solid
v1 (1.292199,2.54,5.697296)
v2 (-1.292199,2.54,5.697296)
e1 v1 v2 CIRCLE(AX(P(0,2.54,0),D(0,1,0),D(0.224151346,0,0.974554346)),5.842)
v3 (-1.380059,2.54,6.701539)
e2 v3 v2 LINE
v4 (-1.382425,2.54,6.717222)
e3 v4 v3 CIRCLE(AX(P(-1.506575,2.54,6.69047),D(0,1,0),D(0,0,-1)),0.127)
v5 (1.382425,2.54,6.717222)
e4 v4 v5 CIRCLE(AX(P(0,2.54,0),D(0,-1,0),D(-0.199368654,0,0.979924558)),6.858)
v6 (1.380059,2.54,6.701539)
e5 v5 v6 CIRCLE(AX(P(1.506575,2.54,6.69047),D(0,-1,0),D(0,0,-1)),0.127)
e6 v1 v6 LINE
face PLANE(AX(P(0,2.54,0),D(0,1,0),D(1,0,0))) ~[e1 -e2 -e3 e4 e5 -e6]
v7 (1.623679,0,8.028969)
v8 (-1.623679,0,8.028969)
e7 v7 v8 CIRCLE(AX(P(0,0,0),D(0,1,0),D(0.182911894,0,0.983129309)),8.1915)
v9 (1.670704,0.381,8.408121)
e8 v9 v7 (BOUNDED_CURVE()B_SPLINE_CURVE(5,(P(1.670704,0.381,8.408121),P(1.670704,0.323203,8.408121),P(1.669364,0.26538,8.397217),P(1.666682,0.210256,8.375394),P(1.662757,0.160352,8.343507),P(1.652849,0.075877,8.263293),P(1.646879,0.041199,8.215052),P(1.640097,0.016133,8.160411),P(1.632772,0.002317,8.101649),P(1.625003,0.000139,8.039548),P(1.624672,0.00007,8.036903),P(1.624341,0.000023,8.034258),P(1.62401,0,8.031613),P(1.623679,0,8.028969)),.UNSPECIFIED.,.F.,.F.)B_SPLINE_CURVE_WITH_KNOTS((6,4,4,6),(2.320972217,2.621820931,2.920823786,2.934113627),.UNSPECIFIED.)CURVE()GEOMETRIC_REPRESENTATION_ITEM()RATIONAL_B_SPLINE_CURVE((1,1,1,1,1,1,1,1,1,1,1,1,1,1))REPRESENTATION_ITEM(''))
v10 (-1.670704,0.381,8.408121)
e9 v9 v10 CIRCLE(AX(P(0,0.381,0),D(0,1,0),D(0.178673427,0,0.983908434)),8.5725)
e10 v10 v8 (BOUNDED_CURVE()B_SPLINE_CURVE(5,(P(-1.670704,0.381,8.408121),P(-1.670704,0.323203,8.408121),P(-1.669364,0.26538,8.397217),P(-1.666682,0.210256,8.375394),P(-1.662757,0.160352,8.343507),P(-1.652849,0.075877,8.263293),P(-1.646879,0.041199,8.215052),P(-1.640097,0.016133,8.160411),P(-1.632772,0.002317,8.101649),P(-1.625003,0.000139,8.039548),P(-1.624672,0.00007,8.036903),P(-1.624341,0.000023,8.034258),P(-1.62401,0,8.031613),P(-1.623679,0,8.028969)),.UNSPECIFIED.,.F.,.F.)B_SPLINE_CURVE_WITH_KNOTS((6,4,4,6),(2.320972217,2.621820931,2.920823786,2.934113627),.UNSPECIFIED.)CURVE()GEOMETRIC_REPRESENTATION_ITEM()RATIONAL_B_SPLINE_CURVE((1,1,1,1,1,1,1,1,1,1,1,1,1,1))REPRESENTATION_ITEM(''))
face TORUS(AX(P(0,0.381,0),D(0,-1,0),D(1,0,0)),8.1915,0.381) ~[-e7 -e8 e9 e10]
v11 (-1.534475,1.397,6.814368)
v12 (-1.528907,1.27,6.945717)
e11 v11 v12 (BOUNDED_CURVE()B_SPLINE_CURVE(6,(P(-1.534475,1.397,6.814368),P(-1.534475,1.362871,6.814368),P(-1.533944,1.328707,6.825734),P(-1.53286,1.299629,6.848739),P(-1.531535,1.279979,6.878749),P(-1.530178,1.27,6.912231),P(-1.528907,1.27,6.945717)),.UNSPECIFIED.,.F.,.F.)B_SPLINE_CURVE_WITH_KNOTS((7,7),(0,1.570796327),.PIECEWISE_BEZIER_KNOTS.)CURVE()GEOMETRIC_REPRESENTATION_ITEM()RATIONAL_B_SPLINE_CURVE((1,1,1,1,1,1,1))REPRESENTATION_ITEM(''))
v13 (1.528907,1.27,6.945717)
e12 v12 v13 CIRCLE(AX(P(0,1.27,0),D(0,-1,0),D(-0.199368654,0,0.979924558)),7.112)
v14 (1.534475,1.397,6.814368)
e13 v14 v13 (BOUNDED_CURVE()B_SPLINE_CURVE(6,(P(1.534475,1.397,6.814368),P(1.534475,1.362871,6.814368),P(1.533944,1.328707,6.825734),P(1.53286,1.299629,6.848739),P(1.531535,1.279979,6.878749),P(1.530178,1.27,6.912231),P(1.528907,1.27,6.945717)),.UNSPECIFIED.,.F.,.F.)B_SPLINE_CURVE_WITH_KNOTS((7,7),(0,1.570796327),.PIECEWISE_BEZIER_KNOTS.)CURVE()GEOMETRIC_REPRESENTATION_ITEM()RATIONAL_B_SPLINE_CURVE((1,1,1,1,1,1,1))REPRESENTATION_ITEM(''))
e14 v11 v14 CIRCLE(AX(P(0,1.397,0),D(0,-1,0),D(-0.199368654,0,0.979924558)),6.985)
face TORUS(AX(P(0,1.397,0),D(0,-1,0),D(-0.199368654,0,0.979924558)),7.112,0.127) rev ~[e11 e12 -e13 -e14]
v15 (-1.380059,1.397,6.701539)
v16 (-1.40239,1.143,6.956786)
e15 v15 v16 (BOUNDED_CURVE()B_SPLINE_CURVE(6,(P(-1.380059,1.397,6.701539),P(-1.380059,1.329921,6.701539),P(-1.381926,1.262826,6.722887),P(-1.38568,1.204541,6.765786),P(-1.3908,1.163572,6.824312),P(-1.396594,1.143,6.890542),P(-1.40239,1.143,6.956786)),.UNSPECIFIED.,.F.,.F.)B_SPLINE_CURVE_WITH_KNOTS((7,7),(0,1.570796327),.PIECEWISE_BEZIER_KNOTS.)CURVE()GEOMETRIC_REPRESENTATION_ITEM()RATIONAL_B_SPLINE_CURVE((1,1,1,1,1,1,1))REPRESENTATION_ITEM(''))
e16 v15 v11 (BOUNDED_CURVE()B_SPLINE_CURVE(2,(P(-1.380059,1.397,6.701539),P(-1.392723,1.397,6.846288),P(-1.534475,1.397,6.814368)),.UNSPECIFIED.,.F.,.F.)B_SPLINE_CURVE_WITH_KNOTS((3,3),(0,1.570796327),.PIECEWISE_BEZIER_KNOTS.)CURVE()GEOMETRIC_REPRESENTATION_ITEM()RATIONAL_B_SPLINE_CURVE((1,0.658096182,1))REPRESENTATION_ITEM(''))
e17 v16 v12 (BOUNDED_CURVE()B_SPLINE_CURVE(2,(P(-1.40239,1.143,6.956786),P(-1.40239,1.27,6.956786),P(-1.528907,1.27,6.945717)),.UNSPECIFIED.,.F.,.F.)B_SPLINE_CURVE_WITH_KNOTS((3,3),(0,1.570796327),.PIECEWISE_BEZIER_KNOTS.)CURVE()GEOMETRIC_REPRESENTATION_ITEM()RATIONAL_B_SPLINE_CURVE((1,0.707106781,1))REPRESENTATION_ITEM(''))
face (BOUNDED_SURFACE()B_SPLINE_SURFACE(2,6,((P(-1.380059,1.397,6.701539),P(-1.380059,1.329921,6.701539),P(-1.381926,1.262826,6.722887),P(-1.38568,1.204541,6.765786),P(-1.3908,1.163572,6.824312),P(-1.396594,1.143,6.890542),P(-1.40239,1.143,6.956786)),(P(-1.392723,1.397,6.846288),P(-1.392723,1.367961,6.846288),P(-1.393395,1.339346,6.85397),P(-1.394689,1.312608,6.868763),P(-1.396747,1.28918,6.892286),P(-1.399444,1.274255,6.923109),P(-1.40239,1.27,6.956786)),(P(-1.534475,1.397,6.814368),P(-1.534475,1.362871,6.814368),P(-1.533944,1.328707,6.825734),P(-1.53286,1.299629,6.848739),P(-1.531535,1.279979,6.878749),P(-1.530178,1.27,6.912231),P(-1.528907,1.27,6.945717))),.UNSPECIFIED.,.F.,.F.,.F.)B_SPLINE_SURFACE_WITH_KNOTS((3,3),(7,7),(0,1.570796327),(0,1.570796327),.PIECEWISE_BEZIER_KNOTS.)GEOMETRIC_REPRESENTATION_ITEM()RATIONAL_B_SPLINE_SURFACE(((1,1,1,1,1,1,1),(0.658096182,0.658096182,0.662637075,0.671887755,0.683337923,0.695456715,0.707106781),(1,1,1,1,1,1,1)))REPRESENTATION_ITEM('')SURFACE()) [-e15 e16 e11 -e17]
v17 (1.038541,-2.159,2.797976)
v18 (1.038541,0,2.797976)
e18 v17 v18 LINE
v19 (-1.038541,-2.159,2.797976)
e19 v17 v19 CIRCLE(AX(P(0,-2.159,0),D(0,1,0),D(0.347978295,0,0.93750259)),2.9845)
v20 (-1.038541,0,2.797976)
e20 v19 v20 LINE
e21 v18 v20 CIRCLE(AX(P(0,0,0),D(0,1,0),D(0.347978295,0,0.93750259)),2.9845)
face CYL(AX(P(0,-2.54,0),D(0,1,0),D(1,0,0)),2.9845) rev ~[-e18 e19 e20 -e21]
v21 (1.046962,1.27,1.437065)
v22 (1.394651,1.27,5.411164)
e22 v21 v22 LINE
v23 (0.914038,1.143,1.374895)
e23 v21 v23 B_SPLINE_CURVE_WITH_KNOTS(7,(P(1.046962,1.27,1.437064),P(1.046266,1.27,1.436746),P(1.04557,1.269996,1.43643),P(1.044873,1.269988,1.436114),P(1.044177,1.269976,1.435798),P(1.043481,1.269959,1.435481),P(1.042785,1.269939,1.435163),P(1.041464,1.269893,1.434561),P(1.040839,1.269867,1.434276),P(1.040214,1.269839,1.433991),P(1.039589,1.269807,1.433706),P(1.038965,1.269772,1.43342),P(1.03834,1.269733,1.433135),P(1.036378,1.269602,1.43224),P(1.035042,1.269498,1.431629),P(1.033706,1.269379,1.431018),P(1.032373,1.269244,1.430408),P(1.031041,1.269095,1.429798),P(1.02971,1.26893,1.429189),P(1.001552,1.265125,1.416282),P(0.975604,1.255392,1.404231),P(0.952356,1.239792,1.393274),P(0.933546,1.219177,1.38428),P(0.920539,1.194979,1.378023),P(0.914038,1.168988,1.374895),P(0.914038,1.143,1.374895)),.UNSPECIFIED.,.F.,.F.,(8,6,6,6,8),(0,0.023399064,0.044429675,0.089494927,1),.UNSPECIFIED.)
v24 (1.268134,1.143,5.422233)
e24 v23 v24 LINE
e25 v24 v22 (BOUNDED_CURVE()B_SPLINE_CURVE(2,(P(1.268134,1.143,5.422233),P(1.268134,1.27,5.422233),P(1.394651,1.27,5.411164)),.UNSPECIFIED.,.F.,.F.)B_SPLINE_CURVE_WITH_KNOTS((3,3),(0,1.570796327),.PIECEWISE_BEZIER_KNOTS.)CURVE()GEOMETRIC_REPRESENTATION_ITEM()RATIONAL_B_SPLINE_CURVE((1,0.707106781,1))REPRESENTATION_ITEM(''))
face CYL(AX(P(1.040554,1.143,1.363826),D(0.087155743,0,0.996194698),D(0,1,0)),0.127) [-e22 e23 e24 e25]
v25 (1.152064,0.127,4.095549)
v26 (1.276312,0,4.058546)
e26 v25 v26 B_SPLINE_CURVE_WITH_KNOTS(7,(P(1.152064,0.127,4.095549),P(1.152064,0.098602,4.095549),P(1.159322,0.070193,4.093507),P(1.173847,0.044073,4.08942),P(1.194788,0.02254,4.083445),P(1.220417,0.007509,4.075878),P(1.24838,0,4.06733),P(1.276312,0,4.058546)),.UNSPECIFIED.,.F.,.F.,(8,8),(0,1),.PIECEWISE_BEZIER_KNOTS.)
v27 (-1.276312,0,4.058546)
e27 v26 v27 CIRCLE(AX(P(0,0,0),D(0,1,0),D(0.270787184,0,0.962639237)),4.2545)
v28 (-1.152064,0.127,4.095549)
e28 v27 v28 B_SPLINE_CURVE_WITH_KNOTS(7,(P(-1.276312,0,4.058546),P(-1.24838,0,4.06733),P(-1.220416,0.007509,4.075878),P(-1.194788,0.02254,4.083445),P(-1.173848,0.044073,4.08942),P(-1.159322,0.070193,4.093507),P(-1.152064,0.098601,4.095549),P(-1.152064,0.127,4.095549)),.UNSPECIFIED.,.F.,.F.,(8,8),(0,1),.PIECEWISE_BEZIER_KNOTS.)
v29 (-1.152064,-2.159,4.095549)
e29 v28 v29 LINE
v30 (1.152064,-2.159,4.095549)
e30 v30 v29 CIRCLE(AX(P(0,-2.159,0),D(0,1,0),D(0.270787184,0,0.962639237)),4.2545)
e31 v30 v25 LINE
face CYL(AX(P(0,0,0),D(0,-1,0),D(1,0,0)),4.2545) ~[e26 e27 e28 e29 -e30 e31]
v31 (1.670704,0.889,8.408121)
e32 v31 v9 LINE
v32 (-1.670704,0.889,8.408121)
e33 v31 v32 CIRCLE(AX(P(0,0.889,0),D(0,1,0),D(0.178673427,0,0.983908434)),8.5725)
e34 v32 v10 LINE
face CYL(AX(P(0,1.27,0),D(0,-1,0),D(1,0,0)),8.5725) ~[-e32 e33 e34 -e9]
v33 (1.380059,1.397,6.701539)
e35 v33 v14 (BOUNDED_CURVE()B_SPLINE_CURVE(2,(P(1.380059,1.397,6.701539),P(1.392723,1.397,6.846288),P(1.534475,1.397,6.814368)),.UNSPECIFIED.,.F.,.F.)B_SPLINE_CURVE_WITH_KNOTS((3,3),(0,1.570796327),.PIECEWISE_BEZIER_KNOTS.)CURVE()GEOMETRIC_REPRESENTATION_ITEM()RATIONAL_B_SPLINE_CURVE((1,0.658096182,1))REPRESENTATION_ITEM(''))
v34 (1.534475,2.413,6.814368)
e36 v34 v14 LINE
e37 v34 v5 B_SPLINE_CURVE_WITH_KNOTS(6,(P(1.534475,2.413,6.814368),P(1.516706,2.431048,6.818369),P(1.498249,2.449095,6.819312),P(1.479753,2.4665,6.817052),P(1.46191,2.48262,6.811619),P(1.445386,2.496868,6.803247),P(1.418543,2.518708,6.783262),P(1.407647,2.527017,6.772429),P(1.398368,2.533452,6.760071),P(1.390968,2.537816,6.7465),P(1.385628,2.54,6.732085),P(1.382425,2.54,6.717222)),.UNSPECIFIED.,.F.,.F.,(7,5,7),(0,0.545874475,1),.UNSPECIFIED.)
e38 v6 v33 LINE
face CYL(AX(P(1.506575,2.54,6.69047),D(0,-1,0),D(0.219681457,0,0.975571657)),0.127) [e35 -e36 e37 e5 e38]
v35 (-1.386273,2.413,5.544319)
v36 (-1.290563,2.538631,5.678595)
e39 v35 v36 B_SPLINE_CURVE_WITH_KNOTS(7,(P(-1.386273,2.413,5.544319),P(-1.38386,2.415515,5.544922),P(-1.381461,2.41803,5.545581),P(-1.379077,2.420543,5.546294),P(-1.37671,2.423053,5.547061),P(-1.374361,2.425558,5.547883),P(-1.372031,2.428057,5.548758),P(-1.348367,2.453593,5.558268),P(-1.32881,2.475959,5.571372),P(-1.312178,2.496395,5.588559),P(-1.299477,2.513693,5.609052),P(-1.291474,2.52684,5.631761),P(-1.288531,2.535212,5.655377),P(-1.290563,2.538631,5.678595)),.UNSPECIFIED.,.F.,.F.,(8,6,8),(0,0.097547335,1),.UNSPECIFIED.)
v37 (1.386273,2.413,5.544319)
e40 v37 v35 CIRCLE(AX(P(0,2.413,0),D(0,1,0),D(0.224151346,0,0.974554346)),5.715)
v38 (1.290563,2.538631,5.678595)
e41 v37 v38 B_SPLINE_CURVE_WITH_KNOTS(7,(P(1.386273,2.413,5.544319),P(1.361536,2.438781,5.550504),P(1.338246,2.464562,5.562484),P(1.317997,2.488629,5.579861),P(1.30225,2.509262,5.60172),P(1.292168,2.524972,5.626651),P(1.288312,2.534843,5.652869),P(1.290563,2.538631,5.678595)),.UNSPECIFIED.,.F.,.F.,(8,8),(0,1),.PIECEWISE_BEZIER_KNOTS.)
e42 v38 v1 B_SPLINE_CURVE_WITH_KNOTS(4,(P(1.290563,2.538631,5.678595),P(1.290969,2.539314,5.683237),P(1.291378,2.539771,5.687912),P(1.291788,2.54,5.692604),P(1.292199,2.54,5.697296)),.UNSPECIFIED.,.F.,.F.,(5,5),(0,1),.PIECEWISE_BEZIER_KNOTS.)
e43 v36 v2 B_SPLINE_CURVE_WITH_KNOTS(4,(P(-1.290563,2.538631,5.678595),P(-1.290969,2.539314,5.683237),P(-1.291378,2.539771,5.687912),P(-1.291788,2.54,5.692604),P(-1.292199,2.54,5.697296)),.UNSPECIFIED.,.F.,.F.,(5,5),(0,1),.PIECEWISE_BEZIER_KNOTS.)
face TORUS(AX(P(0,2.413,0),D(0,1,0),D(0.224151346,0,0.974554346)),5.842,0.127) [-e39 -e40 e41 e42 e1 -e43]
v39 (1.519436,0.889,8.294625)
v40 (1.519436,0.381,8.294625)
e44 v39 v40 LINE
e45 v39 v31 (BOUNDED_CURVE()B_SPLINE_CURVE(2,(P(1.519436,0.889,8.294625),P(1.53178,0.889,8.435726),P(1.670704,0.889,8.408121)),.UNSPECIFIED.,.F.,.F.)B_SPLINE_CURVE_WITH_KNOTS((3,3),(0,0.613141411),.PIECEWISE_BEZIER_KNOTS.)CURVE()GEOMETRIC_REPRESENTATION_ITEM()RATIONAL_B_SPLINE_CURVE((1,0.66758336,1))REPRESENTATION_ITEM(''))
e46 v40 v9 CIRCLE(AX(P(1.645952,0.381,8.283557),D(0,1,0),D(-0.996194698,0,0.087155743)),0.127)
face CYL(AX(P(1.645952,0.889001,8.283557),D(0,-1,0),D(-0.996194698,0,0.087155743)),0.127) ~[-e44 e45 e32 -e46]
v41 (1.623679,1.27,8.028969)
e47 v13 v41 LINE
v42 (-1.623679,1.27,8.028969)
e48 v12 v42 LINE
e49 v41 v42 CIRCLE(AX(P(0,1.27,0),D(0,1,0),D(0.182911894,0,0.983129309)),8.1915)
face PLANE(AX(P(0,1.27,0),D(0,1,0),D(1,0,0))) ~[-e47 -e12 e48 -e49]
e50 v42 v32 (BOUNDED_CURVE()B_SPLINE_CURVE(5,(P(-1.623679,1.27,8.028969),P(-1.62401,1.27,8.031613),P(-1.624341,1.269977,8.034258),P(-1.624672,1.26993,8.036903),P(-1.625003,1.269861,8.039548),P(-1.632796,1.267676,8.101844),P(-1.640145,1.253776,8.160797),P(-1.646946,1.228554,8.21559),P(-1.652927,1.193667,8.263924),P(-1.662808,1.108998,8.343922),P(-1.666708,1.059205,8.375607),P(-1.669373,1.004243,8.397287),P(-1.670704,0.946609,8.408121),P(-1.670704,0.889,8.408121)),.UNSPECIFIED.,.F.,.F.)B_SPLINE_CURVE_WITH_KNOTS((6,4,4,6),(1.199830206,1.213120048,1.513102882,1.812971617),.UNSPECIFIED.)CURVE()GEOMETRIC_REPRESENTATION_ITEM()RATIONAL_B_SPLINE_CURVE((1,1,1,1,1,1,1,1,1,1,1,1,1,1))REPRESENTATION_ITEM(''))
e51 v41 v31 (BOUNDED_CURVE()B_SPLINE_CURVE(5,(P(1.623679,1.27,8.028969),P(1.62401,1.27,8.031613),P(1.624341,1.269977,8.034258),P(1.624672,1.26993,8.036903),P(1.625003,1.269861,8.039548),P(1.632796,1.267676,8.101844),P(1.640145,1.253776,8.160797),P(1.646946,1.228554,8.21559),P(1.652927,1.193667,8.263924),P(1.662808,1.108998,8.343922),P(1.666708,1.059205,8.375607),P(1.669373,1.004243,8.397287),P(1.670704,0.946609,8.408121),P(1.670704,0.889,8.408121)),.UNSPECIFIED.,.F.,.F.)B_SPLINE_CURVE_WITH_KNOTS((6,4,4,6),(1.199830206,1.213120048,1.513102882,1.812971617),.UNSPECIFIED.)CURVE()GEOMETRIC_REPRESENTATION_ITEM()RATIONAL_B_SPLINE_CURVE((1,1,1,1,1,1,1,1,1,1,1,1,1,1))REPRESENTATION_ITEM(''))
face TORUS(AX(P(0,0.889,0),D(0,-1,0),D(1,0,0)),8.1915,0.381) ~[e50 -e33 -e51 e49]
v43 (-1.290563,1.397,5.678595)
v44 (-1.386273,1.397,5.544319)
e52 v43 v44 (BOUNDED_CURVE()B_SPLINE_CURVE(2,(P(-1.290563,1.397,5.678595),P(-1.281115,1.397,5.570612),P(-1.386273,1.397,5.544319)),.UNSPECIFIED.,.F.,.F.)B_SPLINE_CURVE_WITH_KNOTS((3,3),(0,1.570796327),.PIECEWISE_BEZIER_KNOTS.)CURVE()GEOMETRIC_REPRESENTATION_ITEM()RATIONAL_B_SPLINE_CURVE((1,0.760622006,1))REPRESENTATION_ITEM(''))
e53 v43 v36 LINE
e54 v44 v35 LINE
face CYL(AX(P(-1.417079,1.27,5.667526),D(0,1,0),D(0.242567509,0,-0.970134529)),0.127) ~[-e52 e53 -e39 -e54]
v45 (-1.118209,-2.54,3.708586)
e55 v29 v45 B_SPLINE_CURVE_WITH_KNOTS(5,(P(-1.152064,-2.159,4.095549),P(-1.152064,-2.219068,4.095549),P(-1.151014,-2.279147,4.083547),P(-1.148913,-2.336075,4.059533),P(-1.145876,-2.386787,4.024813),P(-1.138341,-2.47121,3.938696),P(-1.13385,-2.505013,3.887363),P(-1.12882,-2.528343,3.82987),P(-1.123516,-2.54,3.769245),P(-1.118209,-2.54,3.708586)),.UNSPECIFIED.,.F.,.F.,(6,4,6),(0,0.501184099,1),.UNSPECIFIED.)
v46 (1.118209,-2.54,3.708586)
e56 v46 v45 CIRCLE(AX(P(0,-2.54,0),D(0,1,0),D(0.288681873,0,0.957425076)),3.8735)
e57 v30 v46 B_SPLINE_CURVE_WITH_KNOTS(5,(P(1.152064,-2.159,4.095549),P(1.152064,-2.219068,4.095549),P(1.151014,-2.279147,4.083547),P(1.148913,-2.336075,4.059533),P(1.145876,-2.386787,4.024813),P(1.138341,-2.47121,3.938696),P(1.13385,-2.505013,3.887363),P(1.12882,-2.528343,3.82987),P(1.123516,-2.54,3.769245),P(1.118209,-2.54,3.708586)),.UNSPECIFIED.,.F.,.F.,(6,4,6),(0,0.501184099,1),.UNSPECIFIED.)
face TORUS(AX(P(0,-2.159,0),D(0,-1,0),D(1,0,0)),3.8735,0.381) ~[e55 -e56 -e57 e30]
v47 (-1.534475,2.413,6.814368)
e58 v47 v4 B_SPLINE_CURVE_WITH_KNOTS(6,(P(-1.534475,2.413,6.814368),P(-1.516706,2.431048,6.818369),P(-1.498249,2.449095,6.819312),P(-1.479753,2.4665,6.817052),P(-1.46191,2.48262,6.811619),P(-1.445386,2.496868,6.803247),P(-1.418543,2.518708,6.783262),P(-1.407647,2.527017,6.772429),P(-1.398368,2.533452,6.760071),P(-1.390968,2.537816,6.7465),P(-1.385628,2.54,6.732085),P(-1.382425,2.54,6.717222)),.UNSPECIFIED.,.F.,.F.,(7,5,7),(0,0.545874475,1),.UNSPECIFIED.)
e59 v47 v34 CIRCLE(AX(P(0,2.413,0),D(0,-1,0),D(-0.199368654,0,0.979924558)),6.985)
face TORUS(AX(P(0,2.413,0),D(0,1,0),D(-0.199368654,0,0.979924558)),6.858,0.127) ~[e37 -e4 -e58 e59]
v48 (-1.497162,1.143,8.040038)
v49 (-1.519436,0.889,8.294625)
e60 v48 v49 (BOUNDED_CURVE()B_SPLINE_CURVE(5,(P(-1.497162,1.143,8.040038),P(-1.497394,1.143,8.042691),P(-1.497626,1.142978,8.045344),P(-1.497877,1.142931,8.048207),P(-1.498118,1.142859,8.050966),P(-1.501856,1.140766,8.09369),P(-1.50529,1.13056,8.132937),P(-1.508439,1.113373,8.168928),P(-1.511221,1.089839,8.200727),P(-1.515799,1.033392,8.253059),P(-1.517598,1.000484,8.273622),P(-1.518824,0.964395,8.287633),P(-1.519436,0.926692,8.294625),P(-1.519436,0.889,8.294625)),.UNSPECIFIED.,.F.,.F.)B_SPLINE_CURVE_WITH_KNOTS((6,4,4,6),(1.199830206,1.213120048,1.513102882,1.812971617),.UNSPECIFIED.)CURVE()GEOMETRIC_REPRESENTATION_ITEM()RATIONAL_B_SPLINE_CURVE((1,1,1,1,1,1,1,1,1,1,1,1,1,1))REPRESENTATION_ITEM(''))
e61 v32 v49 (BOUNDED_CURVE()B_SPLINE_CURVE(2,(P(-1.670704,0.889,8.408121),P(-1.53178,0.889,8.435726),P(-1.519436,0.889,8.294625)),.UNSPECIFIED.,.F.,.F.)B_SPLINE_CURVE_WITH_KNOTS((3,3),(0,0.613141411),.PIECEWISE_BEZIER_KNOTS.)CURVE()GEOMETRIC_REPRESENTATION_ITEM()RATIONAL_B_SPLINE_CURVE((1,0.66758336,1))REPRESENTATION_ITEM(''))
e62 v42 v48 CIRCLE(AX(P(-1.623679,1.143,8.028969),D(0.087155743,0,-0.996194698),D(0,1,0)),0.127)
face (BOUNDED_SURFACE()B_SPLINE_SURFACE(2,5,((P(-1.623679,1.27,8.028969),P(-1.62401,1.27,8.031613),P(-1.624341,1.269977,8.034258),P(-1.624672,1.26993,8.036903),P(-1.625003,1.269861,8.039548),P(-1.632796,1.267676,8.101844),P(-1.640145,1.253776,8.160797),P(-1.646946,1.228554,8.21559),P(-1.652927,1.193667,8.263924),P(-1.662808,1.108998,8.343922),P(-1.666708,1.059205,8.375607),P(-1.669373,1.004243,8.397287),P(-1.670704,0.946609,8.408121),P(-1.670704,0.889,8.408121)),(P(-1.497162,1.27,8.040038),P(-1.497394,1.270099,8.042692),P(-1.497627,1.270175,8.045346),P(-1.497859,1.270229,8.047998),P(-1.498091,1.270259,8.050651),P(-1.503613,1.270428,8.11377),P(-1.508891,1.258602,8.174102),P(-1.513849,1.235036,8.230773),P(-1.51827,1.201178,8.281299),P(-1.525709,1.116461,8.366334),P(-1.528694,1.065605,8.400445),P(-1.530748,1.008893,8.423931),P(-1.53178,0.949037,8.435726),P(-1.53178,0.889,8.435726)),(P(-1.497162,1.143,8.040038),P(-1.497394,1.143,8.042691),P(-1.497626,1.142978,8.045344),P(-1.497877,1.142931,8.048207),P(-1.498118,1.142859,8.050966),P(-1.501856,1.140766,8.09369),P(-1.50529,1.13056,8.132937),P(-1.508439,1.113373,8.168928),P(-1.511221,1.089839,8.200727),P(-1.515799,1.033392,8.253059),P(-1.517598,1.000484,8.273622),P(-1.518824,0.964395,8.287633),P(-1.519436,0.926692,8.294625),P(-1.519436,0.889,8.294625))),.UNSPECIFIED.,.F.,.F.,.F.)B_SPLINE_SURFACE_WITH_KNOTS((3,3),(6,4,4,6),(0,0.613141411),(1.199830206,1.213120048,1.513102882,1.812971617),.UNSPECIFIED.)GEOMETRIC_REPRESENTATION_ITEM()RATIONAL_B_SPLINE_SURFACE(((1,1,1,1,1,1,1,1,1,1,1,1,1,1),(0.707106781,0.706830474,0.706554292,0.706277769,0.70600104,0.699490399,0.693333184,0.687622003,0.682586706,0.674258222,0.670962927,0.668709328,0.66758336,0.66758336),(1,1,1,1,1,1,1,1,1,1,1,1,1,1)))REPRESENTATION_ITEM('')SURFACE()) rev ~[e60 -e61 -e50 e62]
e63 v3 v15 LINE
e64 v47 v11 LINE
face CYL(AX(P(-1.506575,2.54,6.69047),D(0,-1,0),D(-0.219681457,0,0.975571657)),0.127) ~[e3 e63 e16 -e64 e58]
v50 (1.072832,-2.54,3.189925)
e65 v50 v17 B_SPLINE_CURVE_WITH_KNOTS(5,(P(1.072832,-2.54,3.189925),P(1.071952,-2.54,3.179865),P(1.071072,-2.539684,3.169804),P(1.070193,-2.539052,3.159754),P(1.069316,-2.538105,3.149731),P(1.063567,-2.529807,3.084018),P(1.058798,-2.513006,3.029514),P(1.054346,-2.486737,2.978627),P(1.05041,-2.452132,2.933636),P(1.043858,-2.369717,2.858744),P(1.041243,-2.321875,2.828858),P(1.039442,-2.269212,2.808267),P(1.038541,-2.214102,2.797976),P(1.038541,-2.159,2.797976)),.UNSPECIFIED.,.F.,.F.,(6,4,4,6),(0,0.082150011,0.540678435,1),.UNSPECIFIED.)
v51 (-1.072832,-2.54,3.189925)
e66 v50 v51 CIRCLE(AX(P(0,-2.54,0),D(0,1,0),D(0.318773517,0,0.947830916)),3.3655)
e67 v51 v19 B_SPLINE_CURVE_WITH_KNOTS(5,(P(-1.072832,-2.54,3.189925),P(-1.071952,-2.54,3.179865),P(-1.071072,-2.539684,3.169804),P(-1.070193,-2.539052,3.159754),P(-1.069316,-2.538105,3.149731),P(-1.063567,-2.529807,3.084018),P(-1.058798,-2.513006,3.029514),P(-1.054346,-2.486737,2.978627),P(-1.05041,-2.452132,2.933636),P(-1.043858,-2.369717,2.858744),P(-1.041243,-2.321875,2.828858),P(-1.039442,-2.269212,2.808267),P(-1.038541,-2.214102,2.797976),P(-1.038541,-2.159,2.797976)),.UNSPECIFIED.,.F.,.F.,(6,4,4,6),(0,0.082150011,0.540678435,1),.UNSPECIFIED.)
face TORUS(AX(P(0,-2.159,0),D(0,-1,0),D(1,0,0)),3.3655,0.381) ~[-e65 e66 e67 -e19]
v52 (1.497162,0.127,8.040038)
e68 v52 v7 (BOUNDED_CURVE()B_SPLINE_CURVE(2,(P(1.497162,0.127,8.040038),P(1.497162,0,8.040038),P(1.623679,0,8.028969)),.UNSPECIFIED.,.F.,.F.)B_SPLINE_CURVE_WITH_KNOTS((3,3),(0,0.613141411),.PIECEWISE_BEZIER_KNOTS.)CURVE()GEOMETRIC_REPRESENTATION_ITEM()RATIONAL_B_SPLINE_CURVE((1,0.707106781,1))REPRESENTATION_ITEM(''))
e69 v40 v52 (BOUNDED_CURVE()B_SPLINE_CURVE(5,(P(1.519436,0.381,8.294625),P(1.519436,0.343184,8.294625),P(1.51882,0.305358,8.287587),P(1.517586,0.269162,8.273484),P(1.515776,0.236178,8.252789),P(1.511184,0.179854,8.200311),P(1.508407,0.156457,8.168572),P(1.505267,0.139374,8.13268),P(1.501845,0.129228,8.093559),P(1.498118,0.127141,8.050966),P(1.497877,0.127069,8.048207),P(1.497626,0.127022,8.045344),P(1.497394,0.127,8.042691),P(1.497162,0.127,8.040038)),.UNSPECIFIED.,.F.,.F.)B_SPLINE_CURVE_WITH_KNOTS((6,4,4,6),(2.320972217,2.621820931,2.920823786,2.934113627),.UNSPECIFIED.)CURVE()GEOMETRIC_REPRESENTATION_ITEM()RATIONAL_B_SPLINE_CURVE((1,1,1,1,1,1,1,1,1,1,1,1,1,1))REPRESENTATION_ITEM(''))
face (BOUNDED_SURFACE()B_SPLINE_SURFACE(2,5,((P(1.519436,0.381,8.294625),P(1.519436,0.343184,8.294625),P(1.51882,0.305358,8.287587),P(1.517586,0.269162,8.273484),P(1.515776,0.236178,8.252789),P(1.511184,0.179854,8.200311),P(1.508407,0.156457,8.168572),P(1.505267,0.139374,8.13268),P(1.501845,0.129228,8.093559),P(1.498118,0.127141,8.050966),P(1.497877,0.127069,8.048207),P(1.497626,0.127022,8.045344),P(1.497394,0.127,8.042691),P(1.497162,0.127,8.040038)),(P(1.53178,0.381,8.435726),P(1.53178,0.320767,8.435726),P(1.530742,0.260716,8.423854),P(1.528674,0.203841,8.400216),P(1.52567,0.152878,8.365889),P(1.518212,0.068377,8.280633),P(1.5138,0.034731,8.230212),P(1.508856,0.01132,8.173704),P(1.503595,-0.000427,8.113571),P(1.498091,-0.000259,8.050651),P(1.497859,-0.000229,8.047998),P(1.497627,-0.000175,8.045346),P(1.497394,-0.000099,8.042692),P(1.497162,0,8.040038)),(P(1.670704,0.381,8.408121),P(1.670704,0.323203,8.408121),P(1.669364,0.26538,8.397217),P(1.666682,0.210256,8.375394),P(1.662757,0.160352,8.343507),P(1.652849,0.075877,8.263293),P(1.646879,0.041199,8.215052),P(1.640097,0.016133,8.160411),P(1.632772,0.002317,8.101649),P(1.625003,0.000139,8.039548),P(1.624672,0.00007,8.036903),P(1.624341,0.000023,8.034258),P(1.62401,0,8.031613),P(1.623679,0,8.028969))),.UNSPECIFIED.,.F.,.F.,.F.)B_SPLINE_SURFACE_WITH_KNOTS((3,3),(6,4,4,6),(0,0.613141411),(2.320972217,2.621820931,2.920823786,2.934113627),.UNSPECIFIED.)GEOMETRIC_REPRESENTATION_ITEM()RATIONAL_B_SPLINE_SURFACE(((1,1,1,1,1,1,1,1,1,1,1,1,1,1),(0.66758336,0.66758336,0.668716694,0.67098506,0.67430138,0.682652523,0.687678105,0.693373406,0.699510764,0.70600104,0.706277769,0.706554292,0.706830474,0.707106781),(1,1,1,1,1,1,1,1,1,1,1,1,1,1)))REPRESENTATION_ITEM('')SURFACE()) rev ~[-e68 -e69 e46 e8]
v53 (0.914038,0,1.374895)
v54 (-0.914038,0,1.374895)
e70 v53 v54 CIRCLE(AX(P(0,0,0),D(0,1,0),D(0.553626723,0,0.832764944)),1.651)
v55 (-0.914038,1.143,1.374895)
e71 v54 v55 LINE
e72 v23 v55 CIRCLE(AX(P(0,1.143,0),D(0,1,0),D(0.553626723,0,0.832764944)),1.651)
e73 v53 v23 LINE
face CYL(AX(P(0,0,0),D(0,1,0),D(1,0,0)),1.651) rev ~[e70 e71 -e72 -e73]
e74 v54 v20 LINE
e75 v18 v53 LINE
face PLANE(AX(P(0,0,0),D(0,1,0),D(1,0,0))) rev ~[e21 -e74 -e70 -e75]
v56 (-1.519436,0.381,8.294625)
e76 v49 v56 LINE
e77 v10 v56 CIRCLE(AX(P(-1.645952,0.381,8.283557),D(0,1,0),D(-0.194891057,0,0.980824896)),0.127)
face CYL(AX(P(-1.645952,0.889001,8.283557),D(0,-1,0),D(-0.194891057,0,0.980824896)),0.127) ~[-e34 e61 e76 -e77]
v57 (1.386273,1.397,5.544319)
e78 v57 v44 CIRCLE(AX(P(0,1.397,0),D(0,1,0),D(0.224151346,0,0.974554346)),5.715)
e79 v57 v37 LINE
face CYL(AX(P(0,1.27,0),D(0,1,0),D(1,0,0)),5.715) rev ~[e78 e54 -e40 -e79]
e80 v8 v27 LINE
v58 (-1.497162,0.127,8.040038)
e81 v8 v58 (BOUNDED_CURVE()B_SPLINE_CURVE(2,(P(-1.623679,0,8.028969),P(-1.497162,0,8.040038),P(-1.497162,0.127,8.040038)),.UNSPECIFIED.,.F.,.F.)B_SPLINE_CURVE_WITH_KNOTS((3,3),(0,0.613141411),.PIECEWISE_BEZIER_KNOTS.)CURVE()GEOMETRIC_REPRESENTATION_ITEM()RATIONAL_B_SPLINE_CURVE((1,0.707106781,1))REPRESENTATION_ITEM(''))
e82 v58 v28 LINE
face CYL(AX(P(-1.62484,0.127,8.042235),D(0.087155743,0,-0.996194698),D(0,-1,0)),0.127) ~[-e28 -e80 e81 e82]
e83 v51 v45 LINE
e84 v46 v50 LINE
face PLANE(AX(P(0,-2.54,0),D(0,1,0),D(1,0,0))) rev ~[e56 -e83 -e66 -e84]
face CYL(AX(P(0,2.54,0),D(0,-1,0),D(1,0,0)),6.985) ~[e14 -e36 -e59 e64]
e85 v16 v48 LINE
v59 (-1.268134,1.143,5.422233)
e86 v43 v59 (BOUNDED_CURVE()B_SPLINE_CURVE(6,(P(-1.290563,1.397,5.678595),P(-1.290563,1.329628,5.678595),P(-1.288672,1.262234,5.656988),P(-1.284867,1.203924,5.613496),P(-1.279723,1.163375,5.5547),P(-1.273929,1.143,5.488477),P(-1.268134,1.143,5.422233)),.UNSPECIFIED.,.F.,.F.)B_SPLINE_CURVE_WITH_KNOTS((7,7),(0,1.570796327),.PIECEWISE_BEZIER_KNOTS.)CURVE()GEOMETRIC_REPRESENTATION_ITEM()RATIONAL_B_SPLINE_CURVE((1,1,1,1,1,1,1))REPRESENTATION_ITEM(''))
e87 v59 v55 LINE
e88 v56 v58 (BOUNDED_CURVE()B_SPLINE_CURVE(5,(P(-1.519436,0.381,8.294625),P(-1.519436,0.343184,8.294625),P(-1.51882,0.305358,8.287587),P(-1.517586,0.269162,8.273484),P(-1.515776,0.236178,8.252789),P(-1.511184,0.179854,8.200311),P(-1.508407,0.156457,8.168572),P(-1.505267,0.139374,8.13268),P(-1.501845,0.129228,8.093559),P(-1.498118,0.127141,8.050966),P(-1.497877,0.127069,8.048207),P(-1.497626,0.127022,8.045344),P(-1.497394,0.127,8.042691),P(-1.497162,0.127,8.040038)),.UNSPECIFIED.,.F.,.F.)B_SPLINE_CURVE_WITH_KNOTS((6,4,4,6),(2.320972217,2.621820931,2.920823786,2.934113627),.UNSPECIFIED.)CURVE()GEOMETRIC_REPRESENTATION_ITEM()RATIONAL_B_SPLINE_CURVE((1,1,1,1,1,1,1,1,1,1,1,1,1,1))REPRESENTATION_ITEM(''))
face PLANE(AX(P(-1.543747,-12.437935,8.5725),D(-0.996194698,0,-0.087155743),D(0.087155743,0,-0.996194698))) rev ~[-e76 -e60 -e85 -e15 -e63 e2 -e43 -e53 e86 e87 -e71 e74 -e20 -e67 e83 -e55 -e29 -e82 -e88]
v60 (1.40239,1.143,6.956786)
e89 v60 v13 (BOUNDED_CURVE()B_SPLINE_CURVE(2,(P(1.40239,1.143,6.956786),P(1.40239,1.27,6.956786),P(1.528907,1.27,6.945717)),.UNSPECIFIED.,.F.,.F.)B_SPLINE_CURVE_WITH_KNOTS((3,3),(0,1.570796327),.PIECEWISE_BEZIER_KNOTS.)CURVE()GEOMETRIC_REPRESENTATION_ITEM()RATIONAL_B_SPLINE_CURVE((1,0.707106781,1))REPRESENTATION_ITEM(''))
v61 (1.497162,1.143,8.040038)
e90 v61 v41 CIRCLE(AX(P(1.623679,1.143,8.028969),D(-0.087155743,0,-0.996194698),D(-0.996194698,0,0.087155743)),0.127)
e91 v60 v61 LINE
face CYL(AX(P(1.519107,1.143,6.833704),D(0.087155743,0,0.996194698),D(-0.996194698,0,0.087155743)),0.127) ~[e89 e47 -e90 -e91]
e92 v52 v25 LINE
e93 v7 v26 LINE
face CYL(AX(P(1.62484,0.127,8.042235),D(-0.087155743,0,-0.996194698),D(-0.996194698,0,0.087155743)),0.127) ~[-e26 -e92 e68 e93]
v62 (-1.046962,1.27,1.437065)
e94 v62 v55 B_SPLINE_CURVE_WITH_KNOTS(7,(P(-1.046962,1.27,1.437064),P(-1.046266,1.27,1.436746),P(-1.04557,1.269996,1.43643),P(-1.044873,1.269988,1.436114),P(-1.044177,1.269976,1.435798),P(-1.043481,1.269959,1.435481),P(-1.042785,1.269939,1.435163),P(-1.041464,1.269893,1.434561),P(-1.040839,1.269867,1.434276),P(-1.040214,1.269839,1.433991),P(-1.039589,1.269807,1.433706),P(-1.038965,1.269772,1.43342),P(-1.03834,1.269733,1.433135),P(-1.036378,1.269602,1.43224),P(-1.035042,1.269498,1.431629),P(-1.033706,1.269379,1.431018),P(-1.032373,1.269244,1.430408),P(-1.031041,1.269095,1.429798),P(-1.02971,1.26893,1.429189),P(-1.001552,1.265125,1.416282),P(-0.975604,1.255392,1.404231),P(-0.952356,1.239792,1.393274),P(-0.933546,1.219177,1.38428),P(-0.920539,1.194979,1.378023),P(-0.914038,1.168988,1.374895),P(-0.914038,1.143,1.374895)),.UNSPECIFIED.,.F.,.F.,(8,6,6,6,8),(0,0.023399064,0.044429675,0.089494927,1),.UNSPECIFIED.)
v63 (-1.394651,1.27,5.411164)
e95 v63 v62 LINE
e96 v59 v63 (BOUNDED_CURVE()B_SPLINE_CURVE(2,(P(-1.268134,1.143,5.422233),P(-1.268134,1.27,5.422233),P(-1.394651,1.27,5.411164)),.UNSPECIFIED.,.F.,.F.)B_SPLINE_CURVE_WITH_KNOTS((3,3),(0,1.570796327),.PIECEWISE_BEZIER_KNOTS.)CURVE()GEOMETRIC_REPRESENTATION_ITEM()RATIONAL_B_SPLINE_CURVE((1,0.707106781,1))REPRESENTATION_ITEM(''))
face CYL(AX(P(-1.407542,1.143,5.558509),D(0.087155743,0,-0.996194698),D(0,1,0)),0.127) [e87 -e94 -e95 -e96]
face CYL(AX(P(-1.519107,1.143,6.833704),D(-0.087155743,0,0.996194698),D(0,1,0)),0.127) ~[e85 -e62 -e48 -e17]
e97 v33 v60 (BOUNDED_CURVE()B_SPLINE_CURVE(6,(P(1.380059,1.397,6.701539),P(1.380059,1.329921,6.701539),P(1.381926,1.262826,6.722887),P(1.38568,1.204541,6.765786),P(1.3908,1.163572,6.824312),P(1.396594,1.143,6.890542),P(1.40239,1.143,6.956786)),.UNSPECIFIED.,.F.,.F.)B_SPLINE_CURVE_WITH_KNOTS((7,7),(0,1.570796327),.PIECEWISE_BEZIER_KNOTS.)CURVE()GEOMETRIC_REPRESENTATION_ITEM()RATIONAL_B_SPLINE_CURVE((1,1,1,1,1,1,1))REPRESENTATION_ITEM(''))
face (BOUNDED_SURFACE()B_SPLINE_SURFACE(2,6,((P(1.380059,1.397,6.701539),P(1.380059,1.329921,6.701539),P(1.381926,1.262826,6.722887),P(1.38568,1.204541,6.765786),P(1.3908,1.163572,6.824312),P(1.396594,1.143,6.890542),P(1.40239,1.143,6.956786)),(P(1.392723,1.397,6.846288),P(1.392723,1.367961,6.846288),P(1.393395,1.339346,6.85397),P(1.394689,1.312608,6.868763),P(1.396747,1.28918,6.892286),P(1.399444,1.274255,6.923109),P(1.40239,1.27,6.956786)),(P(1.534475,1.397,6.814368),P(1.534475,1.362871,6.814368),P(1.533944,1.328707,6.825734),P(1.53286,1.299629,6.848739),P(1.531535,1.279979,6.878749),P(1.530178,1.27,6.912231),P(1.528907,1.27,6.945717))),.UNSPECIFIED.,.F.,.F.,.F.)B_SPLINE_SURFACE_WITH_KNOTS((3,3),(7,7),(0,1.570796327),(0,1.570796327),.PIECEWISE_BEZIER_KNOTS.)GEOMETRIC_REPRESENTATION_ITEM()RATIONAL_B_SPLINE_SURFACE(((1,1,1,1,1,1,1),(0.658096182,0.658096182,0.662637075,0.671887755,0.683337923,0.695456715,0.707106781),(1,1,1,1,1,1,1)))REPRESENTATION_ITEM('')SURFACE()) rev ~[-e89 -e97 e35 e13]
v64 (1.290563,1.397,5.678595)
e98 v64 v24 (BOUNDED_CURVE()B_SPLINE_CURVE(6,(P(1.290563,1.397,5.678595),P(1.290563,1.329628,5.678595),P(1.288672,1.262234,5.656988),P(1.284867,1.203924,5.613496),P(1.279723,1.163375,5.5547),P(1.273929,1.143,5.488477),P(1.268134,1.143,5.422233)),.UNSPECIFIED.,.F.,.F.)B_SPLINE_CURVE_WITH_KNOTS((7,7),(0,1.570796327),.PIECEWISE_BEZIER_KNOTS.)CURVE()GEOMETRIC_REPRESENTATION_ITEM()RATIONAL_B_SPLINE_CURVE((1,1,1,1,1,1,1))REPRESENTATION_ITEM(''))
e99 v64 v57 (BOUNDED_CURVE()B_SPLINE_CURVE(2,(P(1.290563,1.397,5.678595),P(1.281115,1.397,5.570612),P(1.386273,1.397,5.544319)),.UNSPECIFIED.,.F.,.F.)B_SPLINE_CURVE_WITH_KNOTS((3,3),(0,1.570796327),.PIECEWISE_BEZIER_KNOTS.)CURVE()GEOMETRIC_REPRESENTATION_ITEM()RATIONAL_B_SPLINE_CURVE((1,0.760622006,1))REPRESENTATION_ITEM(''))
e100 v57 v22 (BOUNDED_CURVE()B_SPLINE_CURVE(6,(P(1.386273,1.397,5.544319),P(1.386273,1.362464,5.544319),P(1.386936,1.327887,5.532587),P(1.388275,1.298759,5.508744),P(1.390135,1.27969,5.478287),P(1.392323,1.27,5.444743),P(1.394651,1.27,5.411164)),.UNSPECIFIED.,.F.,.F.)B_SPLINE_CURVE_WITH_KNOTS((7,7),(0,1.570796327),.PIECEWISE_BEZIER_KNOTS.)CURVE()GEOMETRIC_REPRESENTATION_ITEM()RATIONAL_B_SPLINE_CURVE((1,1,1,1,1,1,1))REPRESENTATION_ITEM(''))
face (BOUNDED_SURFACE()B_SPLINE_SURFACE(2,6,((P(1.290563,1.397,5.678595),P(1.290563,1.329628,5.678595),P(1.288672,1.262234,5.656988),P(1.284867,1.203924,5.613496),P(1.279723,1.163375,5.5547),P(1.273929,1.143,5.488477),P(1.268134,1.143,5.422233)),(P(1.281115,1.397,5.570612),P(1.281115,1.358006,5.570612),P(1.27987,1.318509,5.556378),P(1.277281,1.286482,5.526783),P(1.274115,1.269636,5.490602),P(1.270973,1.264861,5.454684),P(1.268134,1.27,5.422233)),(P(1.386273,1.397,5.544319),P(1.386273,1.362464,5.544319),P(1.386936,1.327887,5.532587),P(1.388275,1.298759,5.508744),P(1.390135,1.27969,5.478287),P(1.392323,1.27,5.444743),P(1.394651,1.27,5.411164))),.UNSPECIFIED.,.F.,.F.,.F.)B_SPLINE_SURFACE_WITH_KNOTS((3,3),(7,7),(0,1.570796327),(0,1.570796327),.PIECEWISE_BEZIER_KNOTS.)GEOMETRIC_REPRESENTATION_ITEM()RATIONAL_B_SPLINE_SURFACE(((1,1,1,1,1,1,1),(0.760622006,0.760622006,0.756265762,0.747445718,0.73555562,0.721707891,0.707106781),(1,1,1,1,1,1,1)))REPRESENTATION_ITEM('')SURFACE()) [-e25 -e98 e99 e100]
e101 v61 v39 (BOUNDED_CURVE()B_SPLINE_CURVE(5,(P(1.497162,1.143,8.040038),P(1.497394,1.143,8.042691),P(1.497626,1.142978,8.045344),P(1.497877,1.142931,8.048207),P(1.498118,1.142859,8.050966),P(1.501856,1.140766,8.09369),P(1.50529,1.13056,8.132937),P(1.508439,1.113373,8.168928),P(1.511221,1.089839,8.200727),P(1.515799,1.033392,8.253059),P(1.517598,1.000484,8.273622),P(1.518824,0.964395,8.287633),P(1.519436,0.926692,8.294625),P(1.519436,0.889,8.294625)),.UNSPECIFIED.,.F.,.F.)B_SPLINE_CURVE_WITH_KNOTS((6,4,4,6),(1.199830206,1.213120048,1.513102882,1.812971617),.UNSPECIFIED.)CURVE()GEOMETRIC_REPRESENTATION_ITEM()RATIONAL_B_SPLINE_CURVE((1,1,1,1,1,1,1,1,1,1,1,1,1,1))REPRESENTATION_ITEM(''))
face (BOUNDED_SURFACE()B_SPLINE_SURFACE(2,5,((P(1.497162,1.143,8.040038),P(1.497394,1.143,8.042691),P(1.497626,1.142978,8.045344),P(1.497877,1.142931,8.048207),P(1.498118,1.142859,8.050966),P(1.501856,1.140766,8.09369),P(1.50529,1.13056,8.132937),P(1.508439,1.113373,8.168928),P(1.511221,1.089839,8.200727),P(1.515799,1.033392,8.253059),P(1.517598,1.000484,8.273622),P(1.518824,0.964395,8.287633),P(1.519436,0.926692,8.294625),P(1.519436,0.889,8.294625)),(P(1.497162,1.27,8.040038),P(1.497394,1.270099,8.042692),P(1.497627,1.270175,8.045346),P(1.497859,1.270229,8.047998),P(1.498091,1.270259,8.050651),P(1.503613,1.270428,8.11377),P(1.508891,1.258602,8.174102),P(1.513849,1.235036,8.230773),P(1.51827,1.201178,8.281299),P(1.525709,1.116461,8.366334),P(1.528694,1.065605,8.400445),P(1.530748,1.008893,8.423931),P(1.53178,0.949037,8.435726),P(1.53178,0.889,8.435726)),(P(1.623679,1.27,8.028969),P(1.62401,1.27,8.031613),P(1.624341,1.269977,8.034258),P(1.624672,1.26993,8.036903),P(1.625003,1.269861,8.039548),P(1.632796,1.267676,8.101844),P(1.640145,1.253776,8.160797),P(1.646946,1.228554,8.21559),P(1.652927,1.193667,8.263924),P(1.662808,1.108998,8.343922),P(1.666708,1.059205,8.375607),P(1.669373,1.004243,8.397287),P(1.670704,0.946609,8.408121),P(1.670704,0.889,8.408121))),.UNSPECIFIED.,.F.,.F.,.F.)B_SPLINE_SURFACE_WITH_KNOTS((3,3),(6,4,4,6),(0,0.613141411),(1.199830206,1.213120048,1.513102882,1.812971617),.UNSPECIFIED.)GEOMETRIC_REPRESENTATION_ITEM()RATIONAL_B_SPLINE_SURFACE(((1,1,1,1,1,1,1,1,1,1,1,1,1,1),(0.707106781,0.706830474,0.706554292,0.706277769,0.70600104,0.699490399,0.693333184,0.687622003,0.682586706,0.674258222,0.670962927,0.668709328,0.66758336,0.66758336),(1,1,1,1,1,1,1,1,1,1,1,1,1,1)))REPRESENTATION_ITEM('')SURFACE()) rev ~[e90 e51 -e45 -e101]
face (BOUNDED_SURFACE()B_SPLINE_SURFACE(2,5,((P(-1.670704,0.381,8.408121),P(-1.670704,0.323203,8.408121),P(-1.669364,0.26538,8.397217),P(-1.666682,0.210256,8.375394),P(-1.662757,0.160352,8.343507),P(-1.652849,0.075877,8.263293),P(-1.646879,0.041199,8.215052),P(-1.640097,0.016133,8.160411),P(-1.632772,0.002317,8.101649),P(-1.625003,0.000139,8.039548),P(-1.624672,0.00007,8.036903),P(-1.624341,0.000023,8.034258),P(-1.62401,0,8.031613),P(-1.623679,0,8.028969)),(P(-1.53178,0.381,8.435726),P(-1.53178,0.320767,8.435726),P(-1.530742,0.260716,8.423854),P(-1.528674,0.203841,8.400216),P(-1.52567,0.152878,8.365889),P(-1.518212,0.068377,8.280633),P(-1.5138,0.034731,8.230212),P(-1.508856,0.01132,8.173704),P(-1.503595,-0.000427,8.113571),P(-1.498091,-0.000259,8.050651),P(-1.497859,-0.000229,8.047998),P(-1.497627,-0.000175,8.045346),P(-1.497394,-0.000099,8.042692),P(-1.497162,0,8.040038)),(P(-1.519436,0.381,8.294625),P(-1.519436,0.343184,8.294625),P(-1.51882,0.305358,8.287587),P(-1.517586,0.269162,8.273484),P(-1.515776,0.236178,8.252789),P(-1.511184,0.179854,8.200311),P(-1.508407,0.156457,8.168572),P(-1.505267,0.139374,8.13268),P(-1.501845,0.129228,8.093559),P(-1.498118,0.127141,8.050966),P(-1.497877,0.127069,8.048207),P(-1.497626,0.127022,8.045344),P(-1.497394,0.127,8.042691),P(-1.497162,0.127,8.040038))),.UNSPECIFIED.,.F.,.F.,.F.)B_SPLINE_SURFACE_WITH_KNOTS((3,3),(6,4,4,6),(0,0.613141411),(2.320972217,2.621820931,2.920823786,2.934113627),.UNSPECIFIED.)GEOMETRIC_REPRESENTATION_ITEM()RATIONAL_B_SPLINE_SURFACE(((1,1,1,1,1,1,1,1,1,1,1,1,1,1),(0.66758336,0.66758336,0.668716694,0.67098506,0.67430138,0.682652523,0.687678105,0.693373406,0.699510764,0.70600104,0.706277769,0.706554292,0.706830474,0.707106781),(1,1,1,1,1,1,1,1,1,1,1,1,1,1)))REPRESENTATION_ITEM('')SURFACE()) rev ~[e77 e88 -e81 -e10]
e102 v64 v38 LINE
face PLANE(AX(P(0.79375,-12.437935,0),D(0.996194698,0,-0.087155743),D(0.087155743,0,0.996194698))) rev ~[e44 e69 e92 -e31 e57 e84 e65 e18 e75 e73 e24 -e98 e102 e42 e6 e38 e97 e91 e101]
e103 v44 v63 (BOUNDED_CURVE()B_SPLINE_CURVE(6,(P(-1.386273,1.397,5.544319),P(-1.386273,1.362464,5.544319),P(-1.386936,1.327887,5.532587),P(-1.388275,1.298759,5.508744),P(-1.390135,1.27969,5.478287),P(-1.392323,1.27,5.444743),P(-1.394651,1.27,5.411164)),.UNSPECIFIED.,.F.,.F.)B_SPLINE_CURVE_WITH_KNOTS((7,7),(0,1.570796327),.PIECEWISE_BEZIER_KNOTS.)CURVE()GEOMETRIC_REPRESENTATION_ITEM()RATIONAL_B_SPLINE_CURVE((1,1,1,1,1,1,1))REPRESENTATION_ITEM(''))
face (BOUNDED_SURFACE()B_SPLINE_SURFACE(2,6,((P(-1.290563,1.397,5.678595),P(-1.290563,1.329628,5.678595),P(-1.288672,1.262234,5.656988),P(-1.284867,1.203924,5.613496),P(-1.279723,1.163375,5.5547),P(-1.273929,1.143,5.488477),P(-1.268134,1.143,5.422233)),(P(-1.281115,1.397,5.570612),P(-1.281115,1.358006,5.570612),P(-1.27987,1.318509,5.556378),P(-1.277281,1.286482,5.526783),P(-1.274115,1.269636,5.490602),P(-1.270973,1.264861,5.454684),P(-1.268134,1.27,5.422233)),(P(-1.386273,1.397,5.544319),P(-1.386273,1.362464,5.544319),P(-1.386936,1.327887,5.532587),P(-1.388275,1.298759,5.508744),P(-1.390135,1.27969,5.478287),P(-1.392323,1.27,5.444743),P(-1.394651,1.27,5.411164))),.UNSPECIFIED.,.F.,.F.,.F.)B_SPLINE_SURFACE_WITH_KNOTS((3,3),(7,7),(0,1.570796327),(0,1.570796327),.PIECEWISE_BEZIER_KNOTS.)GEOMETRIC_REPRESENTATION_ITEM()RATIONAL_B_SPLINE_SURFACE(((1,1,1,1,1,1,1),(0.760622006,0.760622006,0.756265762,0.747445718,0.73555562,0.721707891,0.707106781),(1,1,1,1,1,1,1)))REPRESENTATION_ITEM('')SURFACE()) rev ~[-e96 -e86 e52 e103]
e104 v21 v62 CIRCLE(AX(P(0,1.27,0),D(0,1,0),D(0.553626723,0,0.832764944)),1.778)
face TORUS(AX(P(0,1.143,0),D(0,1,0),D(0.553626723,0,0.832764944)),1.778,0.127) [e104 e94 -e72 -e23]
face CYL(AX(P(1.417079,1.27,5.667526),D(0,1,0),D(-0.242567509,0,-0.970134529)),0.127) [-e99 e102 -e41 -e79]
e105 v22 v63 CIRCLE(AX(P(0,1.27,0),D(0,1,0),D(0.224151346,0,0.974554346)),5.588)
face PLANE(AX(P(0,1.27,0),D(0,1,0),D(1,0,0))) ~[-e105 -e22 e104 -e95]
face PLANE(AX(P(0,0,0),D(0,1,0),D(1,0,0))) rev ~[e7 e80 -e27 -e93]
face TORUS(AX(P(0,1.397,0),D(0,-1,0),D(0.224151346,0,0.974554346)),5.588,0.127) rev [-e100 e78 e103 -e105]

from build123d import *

# Parameters (mm, degrees)
FILLET1_R               = 0.381
CUT_EXTRUDE2_DEPTH      = 13.707935089
CUT_EXTRUDE2_DEPTH_BACK = 13.707935089
FILLET2_R               = 0.127


with BuildPart() as part:
    # Sketch1 → Revolve1 (revolve)
    with BuildSketch(Plane.XY, mode=Mode.PRIVATE) as revolve1_sk:
        Polygon((-1.651, 0), (-1.651, 1.27), (-5.715, 1.27), (-5.715, 2.54), (-6.985, 2.54), (-6.985, 1.27), (-8.5725, 1.27), (-8.5725, 0), (-4.2545, 0), (-4.2545, -2.54), (-2.9845, -2.54), (-2.9845, 0), align=None)
    revolve(revolve1_sk.sketch.rotate(Axis((0, -179.325111384, 0), (0, 1, 0)), 180), axis=Axis((0, -179.325111384, 0), (0, 1, 0)))

    # Fillet1
    fillet1_edges = [part.edges().sort_by_distance(p)[0] for p in [
        (-4.2545, -2.54, 0),
        (-8.5725, 0, 0),
        (-8.5725, 1.27, 0),
        (-2.9845, -2.54, 0),
    ]]
    fillet(fillet1_edges, radius=FILLET1_R)

    # Sketch2 → Cut-Extrude2 (cut, two sides: drawn at the far end of the back side and taken through both)
    with BuildSketch(Plane(origin=(0, 1.27, 0), x_dir=(1, 0, 0), z_dir=(0, 1, 0)).offset(-CUT_EXTRUDE2_DEPTH_BACK)):
        Polygon((-0.79375, 0), (0.79375, 0), (1.543746568, -8.5725), (-1.543746568, -8.5725), align=None)
    extrude(amount=CUT_EXTRUDE2_DEPTH + CUT_EXTRUDE2_DEPTH_BACK, mode=Mode.SUBTRACT)

    # Fillet2
    fillet2_edges = [part.edges().sort_by_distance(p)[0] for p in [
        (-1.52188273, 1.158717065, 8.322595182),
        (1.52188273, 1.158717065, 8.322595182),
        (0, 1.27, -6.985),
        (0, 2.54, -6.985),
        (0, 2.54, -5.715),
        (0, 1.27, -5.715),
        (0, 1.27, -1.651),
        (1.52188273, 0.111282935, 8.322595182),
        (1.325193429, 0, 6.074426186),
        (1.531677949, 0.6350003, 8.434555051),
        (1.445456413, 1.27, 7.449038389),
        (1.392590045, 1.905, 6.84477304),
        (-1.281024943, 1.905, 5.569578089),
        (-1.097531331, 1.27, 3.472236506),
        (-1.325193429, 0, 6.074426186),
        (-1.531677949, 0.6350003, 8.434555051),
        (-1.445456413, 1.27, 7.449038389),
        (-1.392590045, 1.905, 6.84477304),
        (-1.52188273, 0.111282935, 8.322595182),
        (1.281024943, 1.905, 5.569578089),
        (1.097531331, 1.27, 3.472236506),
    ]]
    fillet(fillet2_edges, radius=FILLET2_R)


solid = part.part
